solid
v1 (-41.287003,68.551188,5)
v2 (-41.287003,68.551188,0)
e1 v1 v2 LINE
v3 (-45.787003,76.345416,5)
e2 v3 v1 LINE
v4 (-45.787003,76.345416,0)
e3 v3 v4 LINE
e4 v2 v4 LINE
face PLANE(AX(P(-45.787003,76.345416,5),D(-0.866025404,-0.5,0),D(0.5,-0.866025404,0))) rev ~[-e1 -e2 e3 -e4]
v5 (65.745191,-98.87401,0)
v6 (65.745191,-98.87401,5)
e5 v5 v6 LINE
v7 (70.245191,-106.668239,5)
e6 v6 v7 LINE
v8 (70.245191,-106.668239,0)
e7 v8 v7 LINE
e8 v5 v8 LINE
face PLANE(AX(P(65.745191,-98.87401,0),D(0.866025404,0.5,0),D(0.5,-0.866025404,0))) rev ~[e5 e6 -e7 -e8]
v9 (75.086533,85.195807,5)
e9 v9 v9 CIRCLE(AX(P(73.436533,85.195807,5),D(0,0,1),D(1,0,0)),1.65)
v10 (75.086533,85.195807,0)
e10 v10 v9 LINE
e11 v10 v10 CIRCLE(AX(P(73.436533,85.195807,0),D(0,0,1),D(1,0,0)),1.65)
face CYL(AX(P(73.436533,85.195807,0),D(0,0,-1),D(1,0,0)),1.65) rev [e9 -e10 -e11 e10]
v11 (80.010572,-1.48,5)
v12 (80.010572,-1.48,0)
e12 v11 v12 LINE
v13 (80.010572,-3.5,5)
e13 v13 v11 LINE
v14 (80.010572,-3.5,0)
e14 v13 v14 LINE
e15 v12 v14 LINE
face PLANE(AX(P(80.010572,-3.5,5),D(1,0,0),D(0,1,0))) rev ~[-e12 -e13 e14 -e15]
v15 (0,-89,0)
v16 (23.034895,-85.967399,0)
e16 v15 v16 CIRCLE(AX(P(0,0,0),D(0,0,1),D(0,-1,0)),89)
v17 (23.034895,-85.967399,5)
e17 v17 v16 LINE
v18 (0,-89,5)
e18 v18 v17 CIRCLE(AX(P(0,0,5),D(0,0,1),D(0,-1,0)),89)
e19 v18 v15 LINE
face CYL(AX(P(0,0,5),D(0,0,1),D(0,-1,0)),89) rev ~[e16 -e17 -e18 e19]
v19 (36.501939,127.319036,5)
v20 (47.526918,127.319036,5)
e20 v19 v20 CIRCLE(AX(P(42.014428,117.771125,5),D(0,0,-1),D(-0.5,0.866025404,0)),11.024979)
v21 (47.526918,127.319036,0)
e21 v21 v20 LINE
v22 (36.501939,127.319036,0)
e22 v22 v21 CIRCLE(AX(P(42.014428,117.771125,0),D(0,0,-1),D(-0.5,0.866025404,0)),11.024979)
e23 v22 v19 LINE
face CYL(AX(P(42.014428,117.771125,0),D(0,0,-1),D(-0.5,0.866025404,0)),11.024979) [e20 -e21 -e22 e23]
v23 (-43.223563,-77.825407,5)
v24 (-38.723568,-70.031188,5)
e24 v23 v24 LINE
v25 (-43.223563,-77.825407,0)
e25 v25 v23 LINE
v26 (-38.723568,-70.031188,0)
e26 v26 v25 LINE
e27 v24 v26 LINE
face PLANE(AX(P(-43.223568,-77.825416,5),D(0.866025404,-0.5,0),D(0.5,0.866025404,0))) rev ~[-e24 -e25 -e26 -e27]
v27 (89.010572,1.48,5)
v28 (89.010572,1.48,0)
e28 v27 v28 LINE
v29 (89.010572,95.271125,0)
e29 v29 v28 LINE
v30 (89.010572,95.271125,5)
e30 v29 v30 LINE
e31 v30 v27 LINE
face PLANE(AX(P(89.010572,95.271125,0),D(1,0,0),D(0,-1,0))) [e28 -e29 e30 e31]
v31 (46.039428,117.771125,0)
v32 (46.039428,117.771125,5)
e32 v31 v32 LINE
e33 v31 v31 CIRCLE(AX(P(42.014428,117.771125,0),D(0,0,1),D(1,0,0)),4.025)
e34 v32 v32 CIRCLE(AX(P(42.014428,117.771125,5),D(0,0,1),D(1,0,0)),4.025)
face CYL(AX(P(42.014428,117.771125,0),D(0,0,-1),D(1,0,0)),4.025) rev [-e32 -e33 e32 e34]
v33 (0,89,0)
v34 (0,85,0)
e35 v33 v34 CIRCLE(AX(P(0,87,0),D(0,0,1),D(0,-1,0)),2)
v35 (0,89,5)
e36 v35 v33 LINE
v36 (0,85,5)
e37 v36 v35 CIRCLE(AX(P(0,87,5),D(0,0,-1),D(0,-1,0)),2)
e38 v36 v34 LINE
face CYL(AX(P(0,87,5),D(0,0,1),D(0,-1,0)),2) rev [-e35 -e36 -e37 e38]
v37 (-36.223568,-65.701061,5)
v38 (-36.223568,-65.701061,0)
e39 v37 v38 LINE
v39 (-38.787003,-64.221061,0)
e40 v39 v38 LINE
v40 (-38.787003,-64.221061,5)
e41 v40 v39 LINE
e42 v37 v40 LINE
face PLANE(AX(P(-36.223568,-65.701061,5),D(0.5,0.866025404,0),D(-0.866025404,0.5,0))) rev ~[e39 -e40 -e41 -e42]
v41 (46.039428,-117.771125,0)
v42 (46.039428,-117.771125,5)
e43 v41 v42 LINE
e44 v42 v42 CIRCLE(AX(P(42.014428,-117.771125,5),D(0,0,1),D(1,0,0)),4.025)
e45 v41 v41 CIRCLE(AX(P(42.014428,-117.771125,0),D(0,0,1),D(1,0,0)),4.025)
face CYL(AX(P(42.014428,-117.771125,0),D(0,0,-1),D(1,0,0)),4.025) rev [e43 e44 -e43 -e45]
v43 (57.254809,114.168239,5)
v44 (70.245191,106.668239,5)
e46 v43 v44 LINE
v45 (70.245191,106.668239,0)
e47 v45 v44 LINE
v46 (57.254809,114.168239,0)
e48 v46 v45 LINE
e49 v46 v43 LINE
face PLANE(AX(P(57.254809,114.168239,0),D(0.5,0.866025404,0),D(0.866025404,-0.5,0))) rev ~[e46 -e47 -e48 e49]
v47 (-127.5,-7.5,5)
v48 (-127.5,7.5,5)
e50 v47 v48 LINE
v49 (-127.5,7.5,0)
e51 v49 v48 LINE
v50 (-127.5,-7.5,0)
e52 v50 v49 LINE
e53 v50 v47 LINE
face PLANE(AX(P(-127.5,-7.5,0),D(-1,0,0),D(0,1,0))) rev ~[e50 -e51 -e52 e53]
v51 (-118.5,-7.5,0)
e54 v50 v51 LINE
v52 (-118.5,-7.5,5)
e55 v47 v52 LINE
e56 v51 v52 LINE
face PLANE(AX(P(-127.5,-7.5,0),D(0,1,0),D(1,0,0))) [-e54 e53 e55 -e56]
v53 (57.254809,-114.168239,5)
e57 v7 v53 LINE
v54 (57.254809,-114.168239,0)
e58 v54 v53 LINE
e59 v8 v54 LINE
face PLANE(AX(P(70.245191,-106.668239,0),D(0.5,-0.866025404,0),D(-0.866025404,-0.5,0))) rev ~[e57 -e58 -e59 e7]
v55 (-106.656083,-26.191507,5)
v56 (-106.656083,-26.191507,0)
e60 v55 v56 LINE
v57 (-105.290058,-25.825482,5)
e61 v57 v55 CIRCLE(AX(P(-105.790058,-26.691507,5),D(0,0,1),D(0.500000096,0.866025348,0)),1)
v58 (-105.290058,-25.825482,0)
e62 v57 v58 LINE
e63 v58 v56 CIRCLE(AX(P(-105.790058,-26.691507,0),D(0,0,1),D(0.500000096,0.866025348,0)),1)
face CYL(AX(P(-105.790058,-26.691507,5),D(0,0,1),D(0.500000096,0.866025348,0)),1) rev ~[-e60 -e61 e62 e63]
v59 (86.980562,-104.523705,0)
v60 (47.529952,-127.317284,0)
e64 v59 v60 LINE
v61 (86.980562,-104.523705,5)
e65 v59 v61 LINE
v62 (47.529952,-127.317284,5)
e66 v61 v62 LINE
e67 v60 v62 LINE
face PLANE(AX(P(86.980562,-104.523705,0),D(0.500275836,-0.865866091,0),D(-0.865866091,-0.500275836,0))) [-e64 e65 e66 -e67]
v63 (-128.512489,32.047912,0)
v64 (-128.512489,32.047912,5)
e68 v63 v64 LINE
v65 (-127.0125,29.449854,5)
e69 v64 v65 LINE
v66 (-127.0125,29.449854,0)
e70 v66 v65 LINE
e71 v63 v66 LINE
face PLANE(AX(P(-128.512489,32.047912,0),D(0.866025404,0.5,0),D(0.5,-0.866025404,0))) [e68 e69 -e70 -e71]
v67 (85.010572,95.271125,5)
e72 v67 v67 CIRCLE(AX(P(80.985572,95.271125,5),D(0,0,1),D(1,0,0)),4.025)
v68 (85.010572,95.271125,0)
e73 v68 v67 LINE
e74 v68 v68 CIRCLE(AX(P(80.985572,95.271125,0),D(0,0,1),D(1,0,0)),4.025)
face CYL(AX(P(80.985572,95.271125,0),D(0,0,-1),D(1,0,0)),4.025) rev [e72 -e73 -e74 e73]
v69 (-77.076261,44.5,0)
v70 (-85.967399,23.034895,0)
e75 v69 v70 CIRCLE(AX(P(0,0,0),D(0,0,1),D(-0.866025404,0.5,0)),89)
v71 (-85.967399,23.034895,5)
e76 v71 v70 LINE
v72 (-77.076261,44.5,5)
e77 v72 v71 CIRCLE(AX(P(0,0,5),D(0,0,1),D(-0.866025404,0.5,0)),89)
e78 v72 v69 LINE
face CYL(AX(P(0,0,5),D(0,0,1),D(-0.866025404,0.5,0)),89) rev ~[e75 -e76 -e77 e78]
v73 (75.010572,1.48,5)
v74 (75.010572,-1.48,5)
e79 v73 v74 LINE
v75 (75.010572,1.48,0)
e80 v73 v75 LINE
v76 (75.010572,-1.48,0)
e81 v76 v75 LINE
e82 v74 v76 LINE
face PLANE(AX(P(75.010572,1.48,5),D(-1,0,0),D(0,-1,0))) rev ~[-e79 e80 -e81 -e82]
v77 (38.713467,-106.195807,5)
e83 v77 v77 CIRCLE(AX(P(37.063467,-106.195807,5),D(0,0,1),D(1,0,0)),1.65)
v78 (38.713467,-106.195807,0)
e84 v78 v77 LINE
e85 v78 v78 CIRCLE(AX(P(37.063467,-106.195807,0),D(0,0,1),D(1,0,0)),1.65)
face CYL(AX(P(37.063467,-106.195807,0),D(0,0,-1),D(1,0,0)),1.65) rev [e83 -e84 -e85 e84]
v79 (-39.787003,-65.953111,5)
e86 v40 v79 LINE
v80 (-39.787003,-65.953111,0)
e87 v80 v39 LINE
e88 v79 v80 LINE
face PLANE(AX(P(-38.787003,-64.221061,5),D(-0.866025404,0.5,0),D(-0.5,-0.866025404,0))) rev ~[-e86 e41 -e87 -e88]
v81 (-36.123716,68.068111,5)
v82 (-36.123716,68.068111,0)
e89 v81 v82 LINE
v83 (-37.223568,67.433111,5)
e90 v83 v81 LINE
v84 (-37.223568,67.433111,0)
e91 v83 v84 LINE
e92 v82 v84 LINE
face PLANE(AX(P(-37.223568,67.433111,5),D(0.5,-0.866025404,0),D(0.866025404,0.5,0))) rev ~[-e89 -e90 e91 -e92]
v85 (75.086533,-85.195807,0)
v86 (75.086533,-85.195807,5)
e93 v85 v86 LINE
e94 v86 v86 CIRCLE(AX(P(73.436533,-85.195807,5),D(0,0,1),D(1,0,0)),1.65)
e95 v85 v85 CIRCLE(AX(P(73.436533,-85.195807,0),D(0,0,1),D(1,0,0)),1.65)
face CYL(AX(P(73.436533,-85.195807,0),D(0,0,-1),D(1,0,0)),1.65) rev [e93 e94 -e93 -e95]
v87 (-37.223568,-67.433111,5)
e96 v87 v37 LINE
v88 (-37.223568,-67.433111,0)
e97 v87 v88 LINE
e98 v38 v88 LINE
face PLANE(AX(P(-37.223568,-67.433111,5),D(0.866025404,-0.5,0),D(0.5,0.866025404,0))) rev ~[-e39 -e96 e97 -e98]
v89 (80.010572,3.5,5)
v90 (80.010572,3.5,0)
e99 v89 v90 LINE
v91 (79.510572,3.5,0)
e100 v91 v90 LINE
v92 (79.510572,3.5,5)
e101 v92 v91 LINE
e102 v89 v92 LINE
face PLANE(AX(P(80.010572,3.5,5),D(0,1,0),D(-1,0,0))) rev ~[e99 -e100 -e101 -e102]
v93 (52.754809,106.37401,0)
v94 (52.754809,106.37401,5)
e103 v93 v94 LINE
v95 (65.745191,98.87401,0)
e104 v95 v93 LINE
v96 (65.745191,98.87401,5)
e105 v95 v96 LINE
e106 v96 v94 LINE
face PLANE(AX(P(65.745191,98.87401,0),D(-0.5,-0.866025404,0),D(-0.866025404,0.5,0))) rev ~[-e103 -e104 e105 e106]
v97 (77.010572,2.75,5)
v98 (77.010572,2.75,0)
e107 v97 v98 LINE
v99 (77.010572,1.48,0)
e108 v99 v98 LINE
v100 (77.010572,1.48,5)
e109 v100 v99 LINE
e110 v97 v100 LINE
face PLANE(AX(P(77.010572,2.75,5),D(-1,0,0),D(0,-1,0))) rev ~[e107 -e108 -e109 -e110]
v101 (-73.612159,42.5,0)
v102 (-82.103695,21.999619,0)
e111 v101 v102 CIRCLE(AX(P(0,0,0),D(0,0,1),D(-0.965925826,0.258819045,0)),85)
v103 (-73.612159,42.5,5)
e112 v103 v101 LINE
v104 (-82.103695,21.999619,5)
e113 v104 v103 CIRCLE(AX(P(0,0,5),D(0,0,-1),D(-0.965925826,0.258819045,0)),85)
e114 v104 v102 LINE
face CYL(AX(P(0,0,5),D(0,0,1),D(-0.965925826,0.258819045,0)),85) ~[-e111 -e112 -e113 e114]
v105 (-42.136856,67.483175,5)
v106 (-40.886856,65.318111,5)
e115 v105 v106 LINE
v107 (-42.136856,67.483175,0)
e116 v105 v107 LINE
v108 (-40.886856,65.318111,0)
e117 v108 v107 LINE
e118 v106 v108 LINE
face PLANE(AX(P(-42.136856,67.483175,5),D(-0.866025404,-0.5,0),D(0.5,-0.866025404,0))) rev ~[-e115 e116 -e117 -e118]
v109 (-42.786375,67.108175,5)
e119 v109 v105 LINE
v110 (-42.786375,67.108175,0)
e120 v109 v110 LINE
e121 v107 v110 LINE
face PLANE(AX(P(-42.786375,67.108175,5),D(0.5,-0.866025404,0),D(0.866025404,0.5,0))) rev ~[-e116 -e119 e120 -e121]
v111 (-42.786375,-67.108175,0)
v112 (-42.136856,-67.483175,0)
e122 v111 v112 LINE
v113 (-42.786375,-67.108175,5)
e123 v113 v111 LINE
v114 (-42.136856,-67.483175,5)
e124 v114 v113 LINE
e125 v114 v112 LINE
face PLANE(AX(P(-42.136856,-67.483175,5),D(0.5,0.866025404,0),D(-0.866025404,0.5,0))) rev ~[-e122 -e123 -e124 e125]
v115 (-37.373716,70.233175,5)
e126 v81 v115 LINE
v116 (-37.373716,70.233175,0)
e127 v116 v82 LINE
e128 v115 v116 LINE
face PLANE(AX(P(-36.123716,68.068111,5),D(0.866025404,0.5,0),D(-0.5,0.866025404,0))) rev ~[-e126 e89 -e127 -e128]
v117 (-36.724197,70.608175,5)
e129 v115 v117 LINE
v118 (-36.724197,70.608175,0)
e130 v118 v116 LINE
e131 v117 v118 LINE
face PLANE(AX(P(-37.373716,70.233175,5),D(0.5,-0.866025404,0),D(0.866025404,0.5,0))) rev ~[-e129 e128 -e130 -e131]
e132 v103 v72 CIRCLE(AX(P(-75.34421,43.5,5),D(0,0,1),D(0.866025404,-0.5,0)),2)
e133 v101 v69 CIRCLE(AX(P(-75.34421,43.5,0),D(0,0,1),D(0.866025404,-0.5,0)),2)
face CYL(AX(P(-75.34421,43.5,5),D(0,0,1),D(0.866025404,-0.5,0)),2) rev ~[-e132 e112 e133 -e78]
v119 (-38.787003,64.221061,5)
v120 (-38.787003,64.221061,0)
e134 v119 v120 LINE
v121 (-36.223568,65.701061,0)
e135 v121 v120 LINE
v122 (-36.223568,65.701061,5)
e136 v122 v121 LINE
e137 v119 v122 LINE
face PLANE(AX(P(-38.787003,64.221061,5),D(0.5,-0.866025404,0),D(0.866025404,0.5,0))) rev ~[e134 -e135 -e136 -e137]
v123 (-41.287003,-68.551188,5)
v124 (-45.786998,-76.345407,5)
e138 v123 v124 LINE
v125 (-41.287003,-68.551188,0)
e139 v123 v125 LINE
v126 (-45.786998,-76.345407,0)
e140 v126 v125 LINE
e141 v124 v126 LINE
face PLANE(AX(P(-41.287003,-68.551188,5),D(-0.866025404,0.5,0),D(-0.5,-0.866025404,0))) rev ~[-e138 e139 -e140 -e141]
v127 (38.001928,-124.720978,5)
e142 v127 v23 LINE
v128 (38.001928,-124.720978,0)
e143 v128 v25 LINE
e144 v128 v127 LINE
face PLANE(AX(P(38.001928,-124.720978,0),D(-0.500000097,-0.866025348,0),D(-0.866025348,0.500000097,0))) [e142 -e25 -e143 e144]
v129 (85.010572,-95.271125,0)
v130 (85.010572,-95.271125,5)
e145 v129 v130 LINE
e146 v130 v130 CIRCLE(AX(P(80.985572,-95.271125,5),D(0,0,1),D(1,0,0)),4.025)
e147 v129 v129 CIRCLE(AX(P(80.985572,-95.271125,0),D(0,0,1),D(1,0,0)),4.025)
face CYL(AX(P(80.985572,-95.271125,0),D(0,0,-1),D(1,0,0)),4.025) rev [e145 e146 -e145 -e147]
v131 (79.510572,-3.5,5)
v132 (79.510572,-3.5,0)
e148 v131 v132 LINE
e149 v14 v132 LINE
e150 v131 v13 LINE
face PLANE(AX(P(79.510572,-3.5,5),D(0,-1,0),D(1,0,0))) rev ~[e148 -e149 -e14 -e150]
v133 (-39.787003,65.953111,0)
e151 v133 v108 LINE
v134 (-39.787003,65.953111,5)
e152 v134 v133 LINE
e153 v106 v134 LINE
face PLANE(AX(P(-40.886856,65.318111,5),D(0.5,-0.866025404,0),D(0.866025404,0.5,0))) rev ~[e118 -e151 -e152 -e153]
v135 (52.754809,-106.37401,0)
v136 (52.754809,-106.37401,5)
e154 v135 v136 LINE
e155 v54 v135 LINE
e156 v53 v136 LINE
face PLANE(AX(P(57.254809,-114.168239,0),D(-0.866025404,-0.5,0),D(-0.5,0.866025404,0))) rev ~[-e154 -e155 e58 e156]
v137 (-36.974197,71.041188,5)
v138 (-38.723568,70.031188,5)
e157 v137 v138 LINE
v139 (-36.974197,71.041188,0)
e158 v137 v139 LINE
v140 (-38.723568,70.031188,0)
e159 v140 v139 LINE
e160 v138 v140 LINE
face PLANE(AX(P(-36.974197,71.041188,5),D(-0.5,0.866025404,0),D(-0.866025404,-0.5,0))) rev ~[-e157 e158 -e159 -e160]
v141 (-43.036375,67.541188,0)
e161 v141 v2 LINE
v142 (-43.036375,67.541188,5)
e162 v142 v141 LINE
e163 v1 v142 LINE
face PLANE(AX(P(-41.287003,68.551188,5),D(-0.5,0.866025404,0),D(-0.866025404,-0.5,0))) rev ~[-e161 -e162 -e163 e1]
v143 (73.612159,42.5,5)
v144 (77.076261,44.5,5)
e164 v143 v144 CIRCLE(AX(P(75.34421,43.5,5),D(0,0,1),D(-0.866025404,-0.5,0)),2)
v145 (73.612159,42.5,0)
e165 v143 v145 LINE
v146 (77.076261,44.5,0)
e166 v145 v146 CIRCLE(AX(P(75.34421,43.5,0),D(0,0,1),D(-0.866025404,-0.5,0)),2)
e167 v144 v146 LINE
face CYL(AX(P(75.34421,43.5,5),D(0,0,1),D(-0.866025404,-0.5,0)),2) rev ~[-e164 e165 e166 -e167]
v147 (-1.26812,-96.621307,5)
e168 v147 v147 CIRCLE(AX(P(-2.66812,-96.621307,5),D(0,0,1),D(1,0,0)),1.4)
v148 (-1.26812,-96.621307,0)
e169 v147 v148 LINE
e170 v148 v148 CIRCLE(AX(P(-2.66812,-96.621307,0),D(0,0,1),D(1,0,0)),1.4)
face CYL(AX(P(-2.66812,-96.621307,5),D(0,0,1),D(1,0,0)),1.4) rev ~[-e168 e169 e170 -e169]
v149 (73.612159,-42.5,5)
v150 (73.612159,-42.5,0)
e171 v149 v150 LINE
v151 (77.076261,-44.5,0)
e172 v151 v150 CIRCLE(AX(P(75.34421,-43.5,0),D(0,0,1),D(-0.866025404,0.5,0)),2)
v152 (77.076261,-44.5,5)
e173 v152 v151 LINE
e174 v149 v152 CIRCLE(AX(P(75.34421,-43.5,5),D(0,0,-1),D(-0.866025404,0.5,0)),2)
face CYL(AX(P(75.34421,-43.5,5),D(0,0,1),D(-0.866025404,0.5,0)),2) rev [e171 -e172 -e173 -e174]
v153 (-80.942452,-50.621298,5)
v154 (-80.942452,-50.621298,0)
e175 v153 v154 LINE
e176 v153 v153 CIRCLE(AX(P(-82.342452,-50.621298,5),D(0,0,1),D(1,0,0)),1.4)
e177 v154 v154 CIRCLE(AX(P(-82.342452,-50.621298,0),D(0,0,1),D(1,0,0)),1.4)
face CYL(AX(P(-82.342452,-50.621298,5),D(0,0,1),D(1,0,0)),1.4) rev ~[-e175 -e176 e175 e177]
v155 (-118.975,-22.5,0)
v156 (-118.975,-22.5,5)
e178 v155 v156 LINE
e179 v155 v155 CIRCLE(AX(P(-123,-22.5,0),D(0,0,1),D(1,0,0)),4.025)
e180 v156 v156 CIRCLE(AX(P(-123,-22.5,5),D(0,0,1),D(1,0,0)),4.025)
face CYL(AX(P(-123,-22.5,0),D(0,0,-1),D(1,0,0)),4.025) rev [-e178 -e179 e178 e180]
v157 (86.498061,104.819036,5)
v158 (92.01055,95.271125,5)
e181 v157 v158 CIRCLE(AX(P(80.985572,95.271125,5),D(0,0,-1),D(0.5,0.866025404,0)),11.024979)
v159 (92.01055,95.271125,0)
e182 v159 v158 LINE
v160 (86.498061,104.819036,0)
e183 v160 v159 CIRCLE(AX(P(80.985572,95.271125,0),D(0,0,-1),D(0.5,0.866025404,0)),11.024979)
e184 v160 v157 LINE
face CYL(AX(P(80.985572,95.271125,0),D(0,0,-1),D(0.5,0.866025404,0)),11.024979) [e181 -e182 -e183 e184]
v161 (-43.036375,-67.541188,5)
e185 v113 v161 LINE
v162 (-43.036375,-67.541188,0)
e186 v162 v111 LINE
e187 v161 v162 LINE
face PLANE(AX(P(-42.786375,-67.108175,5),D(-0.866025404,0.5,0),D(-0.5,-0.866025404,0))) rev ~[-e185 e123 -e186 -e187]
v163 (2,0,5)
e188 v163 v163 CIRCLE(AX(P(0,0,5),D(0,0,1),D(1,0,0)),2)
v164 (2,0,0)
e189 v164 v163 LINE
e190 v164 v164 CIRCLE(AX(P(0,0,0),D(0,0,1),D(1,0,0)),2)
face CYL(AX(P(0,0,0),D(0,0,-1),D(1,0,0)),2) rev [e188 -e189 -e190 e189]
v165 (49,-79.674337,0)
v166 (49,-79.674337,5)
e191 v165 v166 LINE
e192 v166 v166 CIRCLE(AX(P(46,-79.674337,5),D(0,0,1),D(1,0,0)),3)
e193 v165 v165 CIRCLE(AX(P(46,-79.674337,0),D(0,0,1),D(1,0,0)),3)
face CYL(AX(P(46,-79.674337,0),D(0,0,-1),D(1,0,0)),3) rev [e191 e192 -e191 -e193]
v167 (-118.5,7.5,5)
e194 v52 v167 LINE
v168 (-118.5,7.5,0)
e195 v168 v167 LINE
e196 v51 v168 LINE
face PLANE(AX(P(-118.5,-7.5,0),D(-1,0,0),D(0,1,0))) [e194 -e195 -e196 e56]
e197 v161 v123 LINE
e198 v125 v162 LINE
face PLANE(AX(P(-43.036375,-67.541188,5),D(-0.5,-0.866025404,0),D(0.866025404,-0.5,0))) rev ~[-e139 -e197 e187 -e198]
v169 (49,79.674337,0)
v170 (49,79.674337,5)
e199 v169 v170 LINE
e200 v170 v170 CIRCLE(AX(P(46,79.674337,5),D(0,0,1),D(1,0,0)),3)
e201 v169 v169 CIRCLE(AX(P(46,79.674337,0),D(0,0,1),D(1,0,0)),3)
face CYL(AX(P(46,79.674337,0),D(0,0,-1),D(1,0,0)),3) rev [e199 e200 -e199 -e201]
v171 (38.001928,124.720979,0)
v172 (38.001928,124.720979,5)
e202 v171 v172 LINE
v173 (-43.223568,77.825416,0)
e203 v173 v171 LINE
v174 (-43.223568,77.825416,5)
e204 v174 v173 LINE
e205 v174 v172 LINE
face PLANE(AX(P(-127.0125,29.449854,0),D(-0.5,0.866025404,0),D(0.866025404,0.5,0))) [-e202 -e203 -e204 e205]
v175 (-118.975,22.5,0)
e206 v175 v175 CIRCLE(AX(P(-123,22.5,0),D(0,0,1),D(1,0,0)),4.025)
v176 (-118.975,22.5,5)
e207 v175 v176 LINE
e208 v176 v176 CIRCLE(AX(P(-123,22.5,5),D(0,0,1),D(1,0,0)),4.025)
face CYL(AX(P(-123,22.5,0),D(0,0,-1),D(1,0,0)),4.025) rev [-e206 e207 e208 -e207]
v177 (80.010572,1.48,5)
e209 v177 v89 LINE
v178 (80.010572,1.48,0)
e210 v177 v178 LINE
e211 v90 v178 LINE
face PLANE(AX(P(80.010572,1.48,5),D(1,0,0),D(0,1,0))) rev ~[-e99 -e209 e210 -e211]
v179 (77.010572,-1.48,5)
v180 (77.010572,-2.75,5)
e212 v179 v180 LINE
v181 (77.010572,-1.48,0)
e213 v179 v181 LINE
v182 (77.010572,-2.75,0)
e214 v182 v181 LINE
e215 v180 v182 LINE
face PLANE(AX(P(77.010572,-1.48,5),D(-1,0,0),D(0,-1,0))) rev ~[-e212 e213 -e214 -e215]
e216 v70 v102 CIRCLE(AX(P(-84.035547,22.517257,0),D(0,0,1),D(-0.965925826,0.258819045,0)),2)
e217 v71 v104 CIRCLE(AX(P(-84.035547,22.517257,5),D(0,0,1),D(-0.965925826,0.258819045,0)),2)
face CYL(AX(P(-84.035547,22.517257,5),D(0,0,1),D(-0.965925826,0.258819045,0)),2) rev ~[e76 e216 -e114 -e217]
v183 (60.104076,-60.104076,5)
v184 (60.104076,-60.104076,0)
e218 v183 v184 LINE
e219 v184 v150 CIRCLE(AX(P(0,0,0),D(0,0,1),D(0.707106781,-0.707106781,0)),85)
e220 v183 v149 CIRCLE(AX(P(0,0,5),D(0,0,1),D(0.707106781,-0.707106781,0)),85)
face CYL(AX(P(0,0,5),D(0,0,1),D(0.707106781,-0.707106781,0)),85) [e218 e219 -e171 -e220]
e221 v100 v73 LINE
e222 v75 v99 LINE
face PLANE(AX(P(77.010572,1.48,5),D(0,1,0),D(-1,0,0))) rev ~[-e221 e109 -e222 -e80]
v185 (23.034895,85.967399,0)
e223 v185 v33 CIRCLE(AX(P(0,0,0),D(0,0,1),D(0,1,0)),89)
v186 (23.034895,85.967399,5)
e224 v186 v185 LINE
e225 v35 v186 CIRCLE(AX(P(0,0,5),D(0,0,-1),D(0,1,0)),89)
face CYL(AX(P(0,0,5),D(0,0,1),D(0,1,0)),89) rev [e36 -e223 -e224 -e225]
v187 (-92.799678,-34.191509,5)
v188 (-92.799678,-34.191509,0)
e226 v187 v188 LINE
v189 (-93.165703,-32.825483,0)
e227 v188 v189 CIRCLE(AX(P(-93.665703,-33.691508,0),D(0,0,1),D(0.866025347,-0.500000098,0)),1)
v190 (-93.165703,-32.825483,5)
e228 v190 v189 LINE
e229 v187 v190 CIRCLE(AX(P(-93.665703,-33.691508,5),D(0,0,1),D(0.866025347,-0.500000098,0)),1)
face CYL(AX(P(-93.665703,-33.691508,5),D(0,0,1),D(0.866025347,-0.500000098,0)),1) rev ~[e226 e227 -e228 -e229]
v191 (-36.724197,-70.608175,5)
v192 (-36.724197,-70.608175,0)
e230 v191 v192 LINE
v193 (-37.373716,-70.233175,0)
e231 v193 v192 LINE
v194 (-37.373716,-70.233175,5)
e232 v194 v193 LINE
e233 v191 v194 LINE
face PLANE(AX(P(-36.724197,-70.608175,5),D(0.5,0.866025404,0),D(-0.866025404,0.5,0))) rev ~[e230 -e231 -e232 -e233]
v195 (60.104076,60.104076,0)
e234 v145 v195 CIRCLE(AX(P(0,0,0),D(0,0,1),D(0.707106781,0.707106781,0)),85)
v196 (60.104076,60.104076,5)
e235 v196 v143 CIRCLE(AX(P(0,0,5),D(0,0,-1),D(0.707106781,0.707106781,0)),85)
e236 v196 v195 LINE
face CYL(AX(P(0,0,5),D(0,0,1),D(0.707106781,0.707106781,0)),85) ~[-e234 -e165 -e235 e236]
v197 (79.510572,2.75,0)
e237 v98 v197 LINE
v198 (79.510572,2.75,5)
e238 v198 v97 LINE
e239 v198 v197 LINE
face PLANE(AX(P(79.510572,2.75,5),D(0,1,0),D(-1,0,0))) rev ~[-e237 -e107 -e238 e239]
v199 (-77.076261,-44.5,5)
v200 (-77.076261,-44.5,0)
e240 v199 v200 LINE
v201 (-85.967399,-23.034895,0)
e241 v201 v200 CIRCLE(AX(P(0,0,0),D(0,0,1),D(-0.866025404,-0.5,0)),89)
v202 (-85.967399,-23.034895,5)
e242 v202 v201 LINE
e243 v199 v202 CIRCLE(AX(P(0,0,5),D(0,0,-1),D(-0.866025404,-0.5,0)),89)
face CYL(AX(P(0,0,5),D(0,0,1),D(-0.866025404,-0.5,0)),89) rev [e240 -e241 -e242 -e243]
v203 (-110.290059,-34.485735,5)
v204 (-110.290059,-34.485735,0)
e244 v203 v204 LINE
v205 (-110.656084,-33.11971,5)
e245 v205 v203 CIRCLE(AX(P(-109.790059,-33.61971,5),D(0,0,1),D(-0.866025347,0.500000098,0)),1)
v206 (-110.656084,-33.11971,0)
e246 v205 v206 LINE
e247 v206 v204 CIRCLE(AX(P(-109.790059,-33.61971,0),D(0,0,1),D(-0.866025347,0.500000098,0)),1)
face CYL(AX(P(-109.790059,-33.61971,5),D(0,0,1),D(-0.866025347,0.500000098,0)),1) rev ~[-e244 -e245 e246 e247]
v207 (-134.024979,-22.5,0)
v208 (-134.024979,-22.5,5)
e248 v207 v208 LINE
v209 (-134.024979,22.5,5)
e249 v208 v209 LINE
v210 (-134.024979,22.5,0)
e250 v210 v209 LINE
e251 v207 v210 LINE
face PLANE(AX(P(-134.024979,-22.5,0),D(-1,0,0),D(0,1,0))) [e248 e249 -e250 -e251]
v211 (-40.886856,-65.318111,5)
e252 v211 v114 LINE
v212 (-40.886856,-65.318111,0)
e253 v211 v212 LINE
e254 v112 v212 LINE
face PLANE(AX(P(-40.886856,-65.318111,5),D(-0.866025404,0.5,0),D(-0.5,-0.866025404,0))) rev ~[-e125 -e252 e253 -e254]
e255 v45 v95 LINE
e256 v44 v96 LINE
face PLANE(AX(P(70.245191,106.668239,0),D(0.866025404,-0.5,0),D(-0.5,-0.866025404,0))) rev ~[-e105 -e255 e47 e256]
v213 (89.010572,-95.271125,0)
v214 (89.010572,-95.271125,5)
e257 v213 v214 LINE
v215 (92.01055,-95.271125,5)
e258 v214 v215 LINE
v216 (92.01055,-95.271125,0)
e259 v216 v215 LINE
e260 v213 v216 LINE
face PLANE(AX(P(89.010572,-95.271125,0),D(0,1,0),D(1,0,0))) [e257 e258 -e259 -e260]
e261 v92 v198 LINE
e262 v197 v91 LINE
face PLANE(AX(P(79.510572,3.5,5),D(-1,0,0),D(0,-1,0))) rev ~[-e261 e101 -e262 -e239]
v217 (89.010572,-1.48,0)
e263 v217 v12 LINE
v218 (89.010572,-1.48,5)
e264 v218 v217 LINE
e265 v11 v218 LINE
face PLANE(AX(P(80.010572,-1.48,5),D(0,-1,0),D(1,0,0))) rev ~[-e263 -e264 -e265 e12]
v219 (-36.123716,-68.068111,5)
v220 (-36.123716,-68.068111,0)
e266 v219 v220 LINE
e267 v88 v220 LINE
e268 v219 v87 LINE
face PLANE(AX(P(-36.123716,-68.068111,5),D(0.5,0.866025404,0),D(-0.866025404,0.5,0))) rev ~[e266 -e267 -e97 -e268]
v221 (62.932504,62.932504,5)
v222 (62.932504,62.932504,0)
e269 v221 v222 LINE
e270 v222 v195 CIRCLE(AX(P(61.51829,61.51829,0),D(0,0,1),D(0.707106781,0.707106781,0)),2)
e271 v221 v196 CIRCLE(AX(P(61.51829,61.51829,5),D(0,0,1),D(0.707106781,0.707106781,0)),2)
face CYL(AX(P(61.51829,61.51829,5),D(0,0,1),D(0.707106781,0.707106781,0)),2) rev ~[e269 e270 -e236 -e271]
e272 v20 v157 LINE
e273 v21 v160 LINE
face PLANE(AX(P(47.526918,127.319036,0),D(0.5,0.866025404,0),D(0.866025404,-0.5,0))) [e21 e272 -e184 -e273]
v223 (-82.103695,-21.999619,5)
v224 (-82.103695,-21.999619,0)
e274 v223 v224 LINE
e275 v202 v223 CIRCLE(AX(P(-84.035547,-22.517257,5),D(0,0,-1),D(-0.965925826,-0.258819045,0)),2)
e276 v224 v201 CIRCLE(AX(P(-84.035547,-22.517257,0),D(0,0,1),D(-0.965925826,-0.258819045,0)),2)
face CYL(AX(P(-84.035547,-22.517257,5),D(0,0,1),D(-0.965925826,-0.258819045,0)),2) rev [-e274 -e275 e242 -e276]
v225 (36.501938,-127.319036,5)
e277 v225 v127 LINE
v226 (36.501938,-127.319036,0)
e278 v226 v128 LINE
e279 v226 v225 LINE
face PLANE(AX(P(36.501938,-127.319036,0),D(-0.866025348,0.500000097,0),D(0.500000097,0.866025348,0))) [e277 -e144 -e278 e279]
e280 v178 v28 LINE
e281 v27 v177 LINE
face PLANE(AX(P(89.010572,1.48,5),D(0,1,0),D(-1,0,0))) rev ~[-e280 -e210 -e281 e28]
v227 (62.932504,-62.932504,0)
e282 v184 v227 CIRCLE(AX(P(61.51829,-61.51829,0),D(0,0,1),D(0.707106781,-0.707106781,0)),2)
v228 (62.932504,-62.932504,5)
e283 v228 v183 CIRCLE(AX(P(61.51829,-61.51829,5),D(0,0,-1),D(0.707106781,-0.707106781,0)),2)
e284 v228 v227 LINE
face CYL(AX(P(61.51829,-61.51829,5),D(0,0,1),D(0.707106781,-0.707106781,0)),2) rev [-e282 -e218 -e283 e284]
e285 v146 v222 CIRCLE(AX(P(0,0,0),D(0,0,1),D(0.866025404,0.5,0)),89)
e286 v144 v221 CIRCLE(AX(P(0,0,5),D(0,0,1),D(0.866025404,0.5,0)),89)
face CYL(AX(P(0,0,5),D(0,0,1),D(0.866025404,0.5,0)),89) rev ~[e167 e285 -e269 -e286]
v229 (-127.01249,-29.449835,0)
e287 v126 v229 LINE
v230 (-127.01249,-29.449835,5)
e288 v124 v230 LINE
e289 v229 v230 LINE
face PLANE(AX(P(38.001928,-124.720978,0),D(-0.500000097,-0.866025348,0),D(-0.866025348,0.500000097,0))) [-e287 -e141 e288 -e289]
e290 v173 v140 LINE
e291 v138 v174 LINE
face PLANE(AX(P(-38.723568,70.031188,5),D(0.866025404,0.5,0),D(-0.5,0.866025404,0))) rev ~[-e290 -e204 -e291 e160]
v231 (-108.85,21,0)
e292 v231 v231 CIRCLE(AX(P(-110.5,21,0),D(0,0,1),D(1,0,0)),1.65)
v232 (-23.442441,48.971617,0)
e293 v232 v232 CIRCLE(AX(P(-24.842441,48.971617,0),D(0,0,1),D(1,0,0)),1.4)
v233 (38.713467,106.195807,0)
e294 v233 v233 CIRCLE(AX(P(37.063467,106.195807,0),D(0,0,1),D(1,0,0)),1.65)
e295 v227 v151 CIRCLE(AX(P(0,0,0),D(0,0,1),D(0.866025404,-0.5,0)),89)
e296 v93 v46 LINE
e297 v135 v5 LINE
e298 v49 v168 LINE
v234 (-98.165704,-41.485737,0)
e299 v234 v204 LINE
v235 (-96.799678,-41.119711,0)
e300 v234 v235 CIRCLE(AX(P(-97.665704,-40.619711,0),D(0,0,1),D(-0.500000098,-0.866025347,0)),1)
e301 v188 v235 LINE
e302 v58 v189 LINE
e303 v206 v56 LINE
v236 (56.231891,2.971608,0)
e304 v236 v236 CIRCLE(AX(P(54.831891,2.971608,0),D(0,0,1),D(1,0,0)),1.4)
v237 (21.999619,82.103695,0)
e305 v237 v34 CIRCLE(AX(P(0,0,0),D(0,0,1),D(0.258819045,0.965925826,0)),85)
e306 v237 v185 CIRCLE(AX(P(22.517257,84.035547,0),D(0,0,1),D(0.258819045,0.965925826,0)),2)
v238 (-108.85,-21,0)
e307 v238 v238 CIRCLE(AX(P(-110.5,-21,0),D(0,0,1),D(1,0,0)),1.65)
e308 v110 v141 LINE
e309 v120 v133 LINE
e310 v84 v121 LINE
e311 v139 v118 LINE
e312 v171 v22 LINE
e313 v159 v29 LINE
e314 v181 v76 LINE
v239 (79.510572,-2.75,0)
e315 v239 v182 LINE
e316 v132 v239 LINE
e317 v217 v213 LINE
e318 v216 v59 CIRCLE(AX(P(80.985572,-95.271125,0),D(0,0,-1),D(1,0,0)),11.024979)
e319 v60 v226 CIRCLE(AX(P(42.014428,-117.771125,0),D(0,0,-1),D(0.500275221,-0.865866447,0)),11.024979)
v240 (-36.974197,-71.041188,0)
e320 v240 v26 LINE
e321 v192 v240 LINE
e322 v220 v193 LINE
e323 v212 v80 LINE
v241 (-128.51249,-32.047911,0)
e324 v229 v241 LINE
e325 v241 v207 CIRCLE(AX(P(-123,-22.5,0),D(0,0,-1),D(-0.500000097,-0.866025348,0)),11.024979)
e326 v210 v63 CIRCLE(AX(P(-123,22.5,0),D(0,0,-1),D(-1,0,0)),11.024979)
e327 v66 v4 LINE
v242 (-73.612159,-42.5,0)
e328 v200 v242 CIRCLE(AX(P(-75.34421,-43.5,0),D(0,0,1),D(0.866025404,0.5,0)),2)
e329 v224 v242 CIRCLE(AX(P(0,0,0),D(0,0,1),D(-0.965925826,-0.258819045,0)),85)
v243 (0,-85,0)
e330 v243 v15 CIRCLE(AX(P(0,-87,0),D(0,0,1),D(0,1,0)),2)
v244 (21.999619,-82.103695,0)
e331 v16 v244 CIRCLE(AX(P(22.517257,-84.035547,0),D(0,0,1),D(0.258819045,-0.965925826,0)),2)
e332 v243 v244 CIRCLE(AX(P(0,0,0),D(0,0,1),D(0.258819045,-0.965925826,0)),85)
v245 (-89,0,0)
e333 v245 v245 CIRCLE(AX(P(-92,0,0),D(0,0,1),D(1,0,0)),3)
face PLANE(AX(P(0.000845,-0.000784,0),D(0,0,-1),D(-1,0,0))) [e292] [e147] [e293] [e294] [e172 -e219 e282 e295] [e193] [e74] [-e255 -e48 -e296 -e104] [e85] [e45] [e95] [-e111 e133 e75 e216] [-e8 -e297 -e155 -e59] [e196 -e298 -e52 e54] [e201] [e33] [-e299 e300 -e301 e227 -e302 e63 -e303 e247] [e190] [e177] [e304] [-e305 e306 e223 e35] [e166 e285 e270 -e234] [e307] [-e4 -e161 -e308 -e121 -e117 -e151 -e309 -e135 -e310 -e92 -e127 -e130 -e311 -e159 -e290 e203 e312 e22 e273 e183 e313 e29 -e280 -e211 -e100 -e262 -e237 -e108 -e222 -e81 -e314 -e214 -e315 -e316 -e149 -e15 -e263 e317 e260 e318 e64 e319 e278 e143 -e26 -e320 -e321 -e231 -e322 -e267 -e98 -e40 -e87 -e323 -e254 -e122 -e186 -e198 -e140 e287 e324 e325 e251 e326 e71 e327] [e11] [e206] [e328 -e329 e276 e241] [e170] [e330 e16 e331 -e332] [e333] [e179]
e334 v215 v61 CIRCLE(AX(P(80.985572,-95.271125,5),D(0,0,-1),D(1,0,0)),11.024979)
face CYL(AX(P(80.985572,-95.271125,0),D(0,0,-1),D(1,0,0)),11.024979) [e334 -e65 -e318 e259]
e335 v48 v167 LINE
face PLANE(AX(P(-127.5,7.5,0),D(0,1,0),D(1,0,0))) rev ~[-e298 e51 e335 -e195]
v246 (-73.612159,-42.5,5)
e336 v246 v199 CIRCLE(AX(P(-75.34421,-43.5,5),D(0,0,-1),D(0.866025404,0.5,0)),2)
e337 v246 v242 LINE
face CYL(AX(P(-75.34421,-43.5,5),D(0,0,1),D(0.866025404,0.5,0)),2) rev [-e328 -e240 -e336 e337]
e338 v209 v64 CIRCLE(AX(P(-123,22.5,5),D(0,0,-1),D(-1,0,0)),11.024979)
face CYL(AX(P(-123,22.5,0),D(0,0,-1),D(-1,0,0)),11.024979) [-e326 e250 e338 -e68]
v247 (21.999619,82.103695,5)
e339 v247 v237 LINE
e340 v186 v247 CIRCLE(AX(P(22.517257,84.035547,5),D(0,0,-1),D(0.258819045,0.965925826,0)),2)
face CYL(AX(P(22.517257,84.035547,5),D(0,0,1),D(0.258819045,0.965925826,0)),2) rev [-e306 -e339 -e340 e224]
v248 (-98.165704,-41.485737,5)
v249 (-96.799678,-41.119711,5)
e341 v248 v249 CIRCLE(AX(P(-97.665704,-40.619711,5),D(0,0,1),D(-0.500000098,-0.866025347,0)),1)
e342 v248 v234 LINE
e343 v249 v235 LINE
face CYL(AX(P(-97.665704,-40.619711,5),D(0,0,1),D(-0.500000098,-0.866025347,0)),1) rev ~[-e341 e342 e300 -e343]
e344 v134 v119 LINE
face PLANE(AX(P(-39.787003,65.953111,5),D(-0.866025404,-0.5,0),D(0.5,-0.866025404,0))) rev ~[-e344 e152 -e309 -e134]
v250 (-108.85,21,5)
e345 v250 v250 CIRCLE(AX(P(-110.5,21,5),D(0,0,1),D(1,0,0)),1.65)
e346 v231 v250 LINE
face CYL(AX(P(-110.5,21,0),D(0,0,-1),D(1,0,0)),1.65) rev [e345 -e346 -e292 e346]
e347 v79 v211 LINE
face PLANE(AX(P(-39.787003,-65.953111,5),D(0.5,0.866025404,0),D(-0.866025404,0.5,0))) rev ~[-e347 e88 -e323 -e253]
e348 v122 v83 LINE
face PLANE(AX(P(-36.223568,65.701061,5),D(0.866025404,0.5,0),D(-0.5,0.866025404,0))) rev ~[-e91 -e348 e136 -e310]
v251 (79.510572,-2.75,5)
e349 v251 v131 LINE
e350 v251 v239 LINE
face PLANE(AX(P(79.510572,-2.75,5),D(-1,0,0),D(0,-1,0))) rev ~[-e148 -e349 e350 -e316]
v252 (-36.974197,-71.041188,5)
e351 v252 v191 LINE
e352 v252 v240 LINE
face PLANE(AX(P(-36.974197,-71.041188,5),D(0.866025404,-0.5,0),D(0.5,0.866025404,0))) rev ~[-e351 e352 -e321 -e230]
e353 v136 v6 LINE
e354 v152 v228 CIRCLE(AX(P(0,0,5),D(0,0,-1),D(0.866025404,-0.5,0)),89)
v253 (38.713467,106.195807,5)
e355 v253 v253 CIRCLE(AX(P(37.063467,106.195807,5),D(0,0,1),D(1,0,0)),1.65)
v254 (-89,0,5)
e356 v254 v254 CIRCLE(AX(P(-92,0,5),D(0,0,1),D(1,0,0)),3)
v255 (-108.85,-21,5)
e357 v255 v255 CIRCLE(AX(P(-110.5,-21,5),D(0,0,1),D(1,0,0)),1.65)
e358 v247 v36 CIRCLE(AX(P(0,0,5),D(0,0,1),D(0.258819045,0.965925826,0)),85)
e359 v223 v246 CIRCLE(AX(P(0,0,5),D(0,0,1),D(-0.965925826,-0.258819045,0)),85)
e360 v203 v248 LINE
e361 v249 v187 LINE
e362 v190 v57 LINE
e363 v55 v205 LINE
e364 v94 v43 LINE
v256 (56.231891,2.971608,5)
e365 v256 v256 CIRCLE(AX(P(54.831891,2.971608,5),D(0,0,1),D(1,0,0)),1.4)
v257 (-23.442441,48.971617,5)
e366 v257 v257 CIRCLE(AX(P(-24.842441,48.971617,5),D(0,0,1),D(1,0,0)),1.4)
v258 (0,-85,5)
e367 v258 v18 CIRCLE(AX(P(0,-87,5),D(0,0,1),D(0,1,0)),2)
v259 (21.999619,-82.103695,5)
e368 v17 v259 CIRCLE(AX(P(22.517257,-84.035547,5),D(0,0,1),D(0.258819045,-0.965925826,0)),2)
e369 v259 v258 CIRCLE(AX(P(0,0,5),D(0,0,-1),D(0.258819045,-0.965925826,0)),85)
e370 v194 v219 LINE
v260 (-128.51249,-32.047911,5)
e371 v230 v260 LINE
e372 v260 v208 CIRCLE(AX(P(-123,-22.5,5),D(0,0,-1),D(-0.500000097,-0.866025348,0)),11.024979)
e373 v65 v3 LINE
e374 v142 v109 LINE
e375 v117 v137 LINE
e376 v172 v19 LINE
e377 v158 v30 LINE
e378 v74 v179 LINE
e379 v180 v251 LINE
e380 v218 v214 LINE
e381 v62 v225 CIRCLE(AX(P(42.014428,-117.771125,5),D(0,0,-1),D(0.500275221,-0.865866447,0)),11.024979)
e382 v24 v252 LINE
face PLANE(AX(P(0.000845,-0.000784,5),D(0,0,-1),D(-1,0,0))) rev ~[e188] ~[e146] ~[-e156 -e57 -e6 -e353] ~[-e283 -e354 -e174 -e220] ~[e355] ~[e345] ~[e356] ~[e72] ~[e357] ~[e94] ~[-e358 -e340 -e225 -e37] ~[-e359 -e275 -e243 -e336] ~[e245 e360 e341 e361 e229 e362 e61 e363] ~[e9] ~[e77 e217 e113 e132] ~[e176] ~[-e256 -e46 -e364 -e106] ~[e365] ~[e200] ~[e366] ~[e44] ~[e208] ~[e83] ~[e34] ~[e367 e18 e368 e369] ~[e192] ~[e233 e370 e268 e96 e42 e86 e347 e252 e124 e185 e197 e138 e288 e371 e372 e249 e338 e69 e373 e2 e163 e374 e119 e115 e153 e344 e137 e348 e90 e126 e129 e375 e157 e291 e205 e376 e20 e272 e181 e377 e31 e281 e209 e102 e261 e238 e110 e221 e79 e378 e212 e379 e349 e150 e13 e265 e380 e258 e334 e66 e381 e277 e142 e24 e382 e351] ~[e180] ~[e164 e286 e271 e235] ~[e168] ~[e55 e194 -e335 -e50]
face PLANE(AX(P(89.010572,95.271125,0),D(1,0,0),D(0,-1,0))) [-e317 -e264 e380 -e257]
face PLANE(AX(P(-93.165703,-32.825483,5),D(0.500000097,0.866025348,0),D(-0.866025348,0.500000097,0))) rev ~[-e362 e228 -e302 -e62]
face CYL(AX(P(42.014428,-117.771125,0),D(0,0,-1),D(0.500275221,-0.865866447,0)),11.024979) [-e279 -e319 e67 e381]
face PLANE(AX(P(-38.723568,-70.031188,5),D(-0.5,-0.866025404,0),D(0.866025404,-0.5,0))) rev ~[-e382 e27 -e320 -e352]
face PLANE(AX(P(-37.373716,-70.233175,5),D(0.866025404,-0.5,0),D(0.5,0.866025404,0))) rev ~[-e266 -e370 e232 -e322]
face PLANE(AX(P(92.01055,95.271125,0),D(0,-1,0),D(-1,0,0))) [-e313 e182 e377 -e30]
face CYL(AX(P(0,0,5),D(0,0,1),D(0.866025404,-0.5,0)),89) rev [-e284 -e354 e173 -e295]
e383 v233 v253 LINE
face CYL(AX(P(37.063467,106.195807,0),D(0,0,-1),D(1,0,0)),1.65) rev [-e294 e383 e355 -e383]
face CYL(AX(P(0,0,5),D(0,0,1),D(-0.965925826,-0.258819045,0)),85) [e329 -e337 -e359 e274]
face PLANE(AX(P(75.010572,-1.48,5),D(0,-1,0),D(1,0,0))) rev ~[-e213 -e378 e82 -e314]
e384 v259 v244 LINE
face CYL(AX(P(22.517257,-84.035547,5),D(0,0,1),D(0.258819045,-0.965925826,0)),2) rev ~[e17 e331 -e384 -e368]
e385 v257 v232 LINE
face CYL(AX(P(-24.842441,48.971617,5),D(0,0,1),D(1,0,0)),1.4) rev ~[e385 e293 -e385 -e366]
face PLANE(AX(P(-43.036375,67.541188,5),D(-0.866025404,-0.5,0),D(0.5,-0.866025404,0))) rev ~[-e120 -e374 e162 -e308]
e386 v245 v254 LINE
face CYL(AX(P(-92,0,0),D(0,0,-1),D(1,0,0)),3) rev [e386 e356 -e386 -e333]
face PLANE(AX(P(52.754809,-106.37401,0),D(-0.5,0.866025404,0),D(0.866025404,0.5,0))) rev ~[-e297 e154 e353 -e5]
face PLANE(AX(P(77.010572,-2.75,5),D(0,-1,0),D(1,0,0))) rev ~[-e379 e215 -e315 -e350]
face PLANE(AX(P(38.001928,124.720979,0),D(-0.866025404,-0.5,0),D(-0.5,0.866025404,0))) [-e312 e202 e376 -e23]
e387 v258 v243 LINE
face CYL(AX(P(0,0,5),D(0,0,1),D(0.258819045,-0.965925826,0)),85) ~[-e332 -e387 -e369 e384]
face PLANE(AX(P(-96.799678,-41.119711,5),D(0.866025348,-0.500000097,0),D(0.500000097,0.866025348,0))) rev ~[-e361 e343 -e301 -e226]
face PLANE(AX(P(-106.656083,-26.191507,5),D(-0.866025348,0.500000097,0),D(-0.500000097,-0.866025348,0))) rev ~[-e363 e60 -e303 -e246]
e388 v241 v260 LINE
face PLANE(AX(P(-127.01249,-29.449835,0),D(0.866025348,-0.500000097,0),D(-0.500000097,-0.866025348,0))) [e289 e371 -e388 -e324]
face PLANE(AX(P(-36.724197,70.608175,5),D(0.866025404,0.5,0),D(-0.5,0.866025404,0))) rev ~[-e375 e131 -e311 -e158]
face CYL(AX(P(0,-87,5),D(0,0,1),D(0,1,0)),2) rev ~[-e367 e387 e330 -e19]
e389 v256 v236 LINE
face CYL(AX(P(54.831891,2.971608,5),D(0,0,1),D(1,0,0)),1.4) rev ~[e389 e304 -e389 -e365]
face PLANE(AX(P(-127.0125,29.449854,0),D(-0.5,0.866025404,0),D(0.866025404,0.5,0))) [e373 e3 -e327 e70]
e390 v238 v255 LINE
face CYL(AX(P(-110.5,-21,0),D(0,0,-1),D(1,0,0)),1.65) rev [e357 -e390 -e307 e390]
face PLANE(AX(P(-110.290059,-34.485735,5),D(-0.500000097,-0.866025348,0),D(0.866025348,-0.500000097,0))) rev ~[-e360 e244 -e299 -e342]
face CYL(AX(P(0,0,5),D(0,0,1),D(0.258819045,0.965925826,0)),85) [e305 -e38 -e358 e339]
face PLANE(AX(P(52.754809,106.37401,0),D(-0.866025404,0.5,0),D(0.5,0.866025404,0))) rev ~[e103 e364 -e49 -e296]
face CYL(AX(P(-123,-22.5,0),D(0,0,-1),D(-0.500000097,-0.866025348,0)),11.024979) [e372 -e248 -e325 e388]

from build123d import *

# Parameters (mm, degrees)
SKETCH1_R           = 4.025
SKETCH1_R_2         = 1.65
SKETCH1_R_3         = 2
SKETCH1_R_4         = 3
SKETCH1_W           = 9
SKETCH1_H           = 15
BOSS_EXTRUDE1_DEPTH = 5
CUT_EXTRUDE1_DEPTH  = 186.946581396
SKETCH3_R           = 1.4
CUT_EXTRUDE2_DEPTH  = 186.946581396
CUT_EXTRUDE4_DEPTH  = 186.946581396
CIRPATTERN1_COUNT   = 3


with BuildPart() as part:
    # Sketch1 → Boss-Extrude1 (new body)
    with BuildSketch(Plane.XY):
        with BuildLine():
            Line((-127.0125, 29.449853865), (38.001928415, 124.720978531))
            Line((38.001928415, 124.720978531), (36.501939089, 127.319036255))
            ThreePointArc((36.501939089, 127.319036255), (42.014428415, 128.796103318), (47.526917741, 127.319036255))
            Line((47.526917741, 127.319036255), (86.498060911, 104.819036255))
            ThreePointArc((86.498060911, 104.819036255), (90.533483174, 100.783613992), (92.010550238, 95.271124665))
            Line((92.010550238, 95.271124665), (89.010571585, 95.271124665))
            Line((89.010571585, 95.271124665), (89.010571585, -95.271124665))
            Line((89.010571585, -95.271124665), (92.010550238, -95.271124665))
            ThreePointArc((92.010550238, -95.271124665), (90.671767887, -100.536839764), (86.980562177, -104.523704959))
            Line((86.980562177, -104.523704959), (47.529952044, -127.317283756))
            ThreePointArc((47.529952044, -127.317283756), (42.016179814, -128.796103179), (36.501938019, -127.319035637))
            Line((36.501938019, -127.319035637), (38.001927636, -124.720978081))
            Line((38.001927636, -124.720978081), (-127.012490105, -29.449834928))
            Line((-127.012490105, -29.449834928), (-128.512490396, -32.047910972))
            ThreePointArc((-128.512490396, -32.047910972), (-132.547911898, -28.012488791), (-134.024978652, -22.5))
            Line((-134.024978652, -22.5), (-134.024978652, 22.5))
            ThreePointArc((-134.024978652, 22.5), (-132.547911589, 28.012489326), (-128.512489326, 32.047911589))
            Line((-128.512489326, 32.047911589), (-127.0125, 29.449853865))
        make_face()
        with Locations((-123, 22.5)):
            Circle(SKETCH1_R, mode=Mode.SUBTRACT)
        with Locations((-123, -22.5)):
            Circle(SKETCH1_R, mode=Mode.SUBTRACT)
        with Locations((42.014428415, 117.771124665)):
            Circle(SKETCH1_R, mode=Mode.SUBTRACT)
        with Locations((80.985571585, 95.271124665)):
            Circle(SKETCH1_R, mode=Mode.SUBTRACT)
        with Locations((80.985571585, -95.271124665)):
            Circle(SKETCH1_R, mode=Mode.SUBTRACT)
        with Locations((42.014428415, -117.771124665)):
            Circle(SKETCH1_R, mode=Mode.SUBTRACT)
        with Locations((-110.5, 21)):
            Circle(SKETCH1_R_2, mode=Mode.SUBTRACT)
        with Locations((-110.5, -21)):
            Circle(SKETCH1_R_2, mode=Mode.SUBTRACT)
        with Locations((73.436533479, 85.195807118)):
            Circle(SKETCH1_R_2, mode=Mode.SUBTRACT)
        with Locations((37.063466521, 106.195807118)):
            Circle(SKETCH1_R_2, mode=Mode.SUBTRACT)
        with Locations((37.063466521, -106.195807118)):
            Circle(SKETCH1_R_2, mode=Mode.SUBTRACT)
        with Locations((73.436533479, -85.195807118)):
            Circle(SKETCH1_R_2, mode=Mode.SUBTRACT)
        Circle(SKETCH1_R_3, mode=Mode.SUBTRACT)
        with Locations((-92, 0)):
            Circle(SKETCH1_R_4, mode=Mode.SUBTRACT)
        with Locations((46, 79.674337148)):
            Circle(SKETCH1_R_4, mode=Mode.SUBTRACT)
        with Locations((46, -79.674337148)):
            Circle(SKETCH1_R_4, mode=Mode.SUBTRACT)
        Polygon((70.245190528, 106.668238983), (65.745190528, 98.874010348), (52.754809472, 106.374010348), (57.254809472, 114.168238983), align=None, mode=Mode.SUBTRACT)
        with Locations((-123, 0)):
            Rectangle(SKETCH1_W, SKETCH1_H, mode=Mode.SUBTRACT)
        Polygon((57.254809472, -114.168238983), (52.754809472, -106.374010348), (65.745190528, -98.874010348), (70.245190528, -106.668238983), align=None, mode=Mode.SUBTRACT)
    extrude(amount=BOSS_EXTRUDE1_DEPTH)

    # Sketch2 → Cut-Extrude1 (cut, through all)
    with BuildSketch(Plane.XY.offset(5)):
        Polygon((89.010571585, 1.48), (80.010571585, 1.48), (80.010571585, 3.5), (79.510571585, 3.5), (79.510571585, 2.75), (77.010571585, 2.75), (77.010571585, 1.48), (75.010571585, 1.48), (75.010571585, -1.48), (77.010571585, -1.48), (77.010571585, -2.75), (79.510571585, -2.75), (79.510571585, -3.5), (80.010571585, -3.5), (80.010571585, -1.48), (89.010571585, -1.48), align=None)
        Polygon((-43.223568195, -77.825416198), (-38.723568195, -70.031187564), (-36.974196879, -71.041187564), (-36.724196879, -70.608174862), (-37.373715932, -70.233174862), (-36.123715932, -68.068111353), (-37.223568195, -67.433111353), (-36.223568195, -65.701060545), (-38.78700339, -64.221060545), (-39.78700339, -65.953111353), (-40.886855653, -65.318111353), (-42.136855653, -67.483174862), (-42.786374706, -67.108174862), (-43.036374706, -67.541187564), (-41.28700339, -68.551187564), (-45.78700339, -76.345416198), align=None)
        Polygon((-45.78700339, 76.345416198), (-41.28700339, 68.551187564), (-43.036374706, 67.541187564), (-42.786374706, 67.108174862), (-42.136855653, 67.483174862), (-40.886855653, 65.318111353), (-39.78700339, 65.953111353), (-38.78700339, 64.221060545), (-36.223568195, 65.701060545), (-37.223568195, 67.433111353), (-36.123715932, 68.068111353), (-37.373715932, 70.233174862), (-36.724196879, 70.608174862), (-36.974196879, 71.041187564), (-38.723568195, 70.031187564), (-43.223568195, 77.825416198), align=None)
    extrude(amount=-CUT_EXTRUDE1_DEPTH, mode=Mode.SUBTRACT)

    # Sketch3 → Cut-Extrude2 (cut, through all)
    with BuildSketch(Plane.XY.offset(5)):
        with Locations((-82.342452032, -50.621297655)):
            Circle(SKETCH3_R)
        with Locations((-2.668120037, -96.621306581)):
            Circle(SKETCH3_R)
        with Locations((54.831891121, 2.971608412)):
            Circle(SKETCH3_R)
        with Locations((-24.842440874, 48.971617338)):
            Circle(SKETCH3_R)
        with BuildLine():
            Line((-110.290058805, -34.485735187), (-98.165703936, -41.485736545))
            ThreePointArc((-98.165703936, -41.485736545), (-97.406884902, -41.585637053), (-96.799678491, -41.119711294))
            Line((-96.799678491, -41.119711294), (-92.799677715, -34.191508512))
            ThreePointArc((-92.799677715, -34.191508512), (-92.699777207, -33.432689478), (-93.165702966, -32.825483067))
            Line((-93.165702966, -32.825483067), (-105.290057834, -25.825481709))
            ThreePointArc((-105.290057834, -25.825481709), (-106.048876868, -25.725581202), (-106.656083279, -26.19150696))
            Line((-106.656083279, -26.19150696), (-110.656084055, -33.119709742))
            ThreePointArc((-110.656084055, -33.119709742), (-110.755984563, -33.878528776), (-110.290058805, -34.485735187))
        make_face()
    extrude(amount=-CUT_EXTRUDE2_DEPTH, mode=Mode.SUBTRACT)

    # Sketch6 → Cut-Extrude4 (cut, through all)
    with BuildSketch(Plane.XY.offset(5)):
        with BuildLine():
            ThreePointArc((-77.076260937, 44.5), (-82.225278394, 34.05882548), (-85.96739854, 23.034895014))
            ThreePointArc((-85.96739854, 23.034895014), (-84.553184977, 20.585405271), (-82.103695235, 21.999618834))
            ThreePointArc((-82.103695235, 21.999618834), (-78.529760263, 32.528091751), (-73.612159322, 42.5))
            ThreePointArc((-73.612159322, 42.5), (-74.344210129, 45.232050808), (-77.076260937, 44.5))
        make_face()
        with BuildLine():
            ThreePointArc((-73.612159322, -42.5), (-74.344210129, -45.232050808), (-77.076260937, -44.5))
            ThreePointArc((-77.076260937, -44.5), (-82.225278394, -34.05882548), (-85.96739854, -23.034895014))
            ThreePointArc((-85.96739854, -23.034895014), (-84.553184977, -20.585405271), (-82.103695235, -21.999618834))
            ThreePointArc((-82.103695235, -21.999618834), (-78.529760263, -32.528091751), (-73.612159322, -42.5))
        make_face()
    cut_extrude4 = extrude(amount=-CUT_EXTRUDE4_DEPTH, mode=Mode.SUBTRACT)

    # CirPattern1: Cut-Extrude4 ×3 about axis
    cirpattern1_axis = Axis((0, 0, 5), (0, 0, -1))
    for i in range(1, CIRPATTERN1_COUNT):
        add(cut_extrude4.rotate(cirpattern1_axis, i * 360 / CIRPATTERN1_COUNT), mode=Mode.SUBTRACT)


solid = part.part
